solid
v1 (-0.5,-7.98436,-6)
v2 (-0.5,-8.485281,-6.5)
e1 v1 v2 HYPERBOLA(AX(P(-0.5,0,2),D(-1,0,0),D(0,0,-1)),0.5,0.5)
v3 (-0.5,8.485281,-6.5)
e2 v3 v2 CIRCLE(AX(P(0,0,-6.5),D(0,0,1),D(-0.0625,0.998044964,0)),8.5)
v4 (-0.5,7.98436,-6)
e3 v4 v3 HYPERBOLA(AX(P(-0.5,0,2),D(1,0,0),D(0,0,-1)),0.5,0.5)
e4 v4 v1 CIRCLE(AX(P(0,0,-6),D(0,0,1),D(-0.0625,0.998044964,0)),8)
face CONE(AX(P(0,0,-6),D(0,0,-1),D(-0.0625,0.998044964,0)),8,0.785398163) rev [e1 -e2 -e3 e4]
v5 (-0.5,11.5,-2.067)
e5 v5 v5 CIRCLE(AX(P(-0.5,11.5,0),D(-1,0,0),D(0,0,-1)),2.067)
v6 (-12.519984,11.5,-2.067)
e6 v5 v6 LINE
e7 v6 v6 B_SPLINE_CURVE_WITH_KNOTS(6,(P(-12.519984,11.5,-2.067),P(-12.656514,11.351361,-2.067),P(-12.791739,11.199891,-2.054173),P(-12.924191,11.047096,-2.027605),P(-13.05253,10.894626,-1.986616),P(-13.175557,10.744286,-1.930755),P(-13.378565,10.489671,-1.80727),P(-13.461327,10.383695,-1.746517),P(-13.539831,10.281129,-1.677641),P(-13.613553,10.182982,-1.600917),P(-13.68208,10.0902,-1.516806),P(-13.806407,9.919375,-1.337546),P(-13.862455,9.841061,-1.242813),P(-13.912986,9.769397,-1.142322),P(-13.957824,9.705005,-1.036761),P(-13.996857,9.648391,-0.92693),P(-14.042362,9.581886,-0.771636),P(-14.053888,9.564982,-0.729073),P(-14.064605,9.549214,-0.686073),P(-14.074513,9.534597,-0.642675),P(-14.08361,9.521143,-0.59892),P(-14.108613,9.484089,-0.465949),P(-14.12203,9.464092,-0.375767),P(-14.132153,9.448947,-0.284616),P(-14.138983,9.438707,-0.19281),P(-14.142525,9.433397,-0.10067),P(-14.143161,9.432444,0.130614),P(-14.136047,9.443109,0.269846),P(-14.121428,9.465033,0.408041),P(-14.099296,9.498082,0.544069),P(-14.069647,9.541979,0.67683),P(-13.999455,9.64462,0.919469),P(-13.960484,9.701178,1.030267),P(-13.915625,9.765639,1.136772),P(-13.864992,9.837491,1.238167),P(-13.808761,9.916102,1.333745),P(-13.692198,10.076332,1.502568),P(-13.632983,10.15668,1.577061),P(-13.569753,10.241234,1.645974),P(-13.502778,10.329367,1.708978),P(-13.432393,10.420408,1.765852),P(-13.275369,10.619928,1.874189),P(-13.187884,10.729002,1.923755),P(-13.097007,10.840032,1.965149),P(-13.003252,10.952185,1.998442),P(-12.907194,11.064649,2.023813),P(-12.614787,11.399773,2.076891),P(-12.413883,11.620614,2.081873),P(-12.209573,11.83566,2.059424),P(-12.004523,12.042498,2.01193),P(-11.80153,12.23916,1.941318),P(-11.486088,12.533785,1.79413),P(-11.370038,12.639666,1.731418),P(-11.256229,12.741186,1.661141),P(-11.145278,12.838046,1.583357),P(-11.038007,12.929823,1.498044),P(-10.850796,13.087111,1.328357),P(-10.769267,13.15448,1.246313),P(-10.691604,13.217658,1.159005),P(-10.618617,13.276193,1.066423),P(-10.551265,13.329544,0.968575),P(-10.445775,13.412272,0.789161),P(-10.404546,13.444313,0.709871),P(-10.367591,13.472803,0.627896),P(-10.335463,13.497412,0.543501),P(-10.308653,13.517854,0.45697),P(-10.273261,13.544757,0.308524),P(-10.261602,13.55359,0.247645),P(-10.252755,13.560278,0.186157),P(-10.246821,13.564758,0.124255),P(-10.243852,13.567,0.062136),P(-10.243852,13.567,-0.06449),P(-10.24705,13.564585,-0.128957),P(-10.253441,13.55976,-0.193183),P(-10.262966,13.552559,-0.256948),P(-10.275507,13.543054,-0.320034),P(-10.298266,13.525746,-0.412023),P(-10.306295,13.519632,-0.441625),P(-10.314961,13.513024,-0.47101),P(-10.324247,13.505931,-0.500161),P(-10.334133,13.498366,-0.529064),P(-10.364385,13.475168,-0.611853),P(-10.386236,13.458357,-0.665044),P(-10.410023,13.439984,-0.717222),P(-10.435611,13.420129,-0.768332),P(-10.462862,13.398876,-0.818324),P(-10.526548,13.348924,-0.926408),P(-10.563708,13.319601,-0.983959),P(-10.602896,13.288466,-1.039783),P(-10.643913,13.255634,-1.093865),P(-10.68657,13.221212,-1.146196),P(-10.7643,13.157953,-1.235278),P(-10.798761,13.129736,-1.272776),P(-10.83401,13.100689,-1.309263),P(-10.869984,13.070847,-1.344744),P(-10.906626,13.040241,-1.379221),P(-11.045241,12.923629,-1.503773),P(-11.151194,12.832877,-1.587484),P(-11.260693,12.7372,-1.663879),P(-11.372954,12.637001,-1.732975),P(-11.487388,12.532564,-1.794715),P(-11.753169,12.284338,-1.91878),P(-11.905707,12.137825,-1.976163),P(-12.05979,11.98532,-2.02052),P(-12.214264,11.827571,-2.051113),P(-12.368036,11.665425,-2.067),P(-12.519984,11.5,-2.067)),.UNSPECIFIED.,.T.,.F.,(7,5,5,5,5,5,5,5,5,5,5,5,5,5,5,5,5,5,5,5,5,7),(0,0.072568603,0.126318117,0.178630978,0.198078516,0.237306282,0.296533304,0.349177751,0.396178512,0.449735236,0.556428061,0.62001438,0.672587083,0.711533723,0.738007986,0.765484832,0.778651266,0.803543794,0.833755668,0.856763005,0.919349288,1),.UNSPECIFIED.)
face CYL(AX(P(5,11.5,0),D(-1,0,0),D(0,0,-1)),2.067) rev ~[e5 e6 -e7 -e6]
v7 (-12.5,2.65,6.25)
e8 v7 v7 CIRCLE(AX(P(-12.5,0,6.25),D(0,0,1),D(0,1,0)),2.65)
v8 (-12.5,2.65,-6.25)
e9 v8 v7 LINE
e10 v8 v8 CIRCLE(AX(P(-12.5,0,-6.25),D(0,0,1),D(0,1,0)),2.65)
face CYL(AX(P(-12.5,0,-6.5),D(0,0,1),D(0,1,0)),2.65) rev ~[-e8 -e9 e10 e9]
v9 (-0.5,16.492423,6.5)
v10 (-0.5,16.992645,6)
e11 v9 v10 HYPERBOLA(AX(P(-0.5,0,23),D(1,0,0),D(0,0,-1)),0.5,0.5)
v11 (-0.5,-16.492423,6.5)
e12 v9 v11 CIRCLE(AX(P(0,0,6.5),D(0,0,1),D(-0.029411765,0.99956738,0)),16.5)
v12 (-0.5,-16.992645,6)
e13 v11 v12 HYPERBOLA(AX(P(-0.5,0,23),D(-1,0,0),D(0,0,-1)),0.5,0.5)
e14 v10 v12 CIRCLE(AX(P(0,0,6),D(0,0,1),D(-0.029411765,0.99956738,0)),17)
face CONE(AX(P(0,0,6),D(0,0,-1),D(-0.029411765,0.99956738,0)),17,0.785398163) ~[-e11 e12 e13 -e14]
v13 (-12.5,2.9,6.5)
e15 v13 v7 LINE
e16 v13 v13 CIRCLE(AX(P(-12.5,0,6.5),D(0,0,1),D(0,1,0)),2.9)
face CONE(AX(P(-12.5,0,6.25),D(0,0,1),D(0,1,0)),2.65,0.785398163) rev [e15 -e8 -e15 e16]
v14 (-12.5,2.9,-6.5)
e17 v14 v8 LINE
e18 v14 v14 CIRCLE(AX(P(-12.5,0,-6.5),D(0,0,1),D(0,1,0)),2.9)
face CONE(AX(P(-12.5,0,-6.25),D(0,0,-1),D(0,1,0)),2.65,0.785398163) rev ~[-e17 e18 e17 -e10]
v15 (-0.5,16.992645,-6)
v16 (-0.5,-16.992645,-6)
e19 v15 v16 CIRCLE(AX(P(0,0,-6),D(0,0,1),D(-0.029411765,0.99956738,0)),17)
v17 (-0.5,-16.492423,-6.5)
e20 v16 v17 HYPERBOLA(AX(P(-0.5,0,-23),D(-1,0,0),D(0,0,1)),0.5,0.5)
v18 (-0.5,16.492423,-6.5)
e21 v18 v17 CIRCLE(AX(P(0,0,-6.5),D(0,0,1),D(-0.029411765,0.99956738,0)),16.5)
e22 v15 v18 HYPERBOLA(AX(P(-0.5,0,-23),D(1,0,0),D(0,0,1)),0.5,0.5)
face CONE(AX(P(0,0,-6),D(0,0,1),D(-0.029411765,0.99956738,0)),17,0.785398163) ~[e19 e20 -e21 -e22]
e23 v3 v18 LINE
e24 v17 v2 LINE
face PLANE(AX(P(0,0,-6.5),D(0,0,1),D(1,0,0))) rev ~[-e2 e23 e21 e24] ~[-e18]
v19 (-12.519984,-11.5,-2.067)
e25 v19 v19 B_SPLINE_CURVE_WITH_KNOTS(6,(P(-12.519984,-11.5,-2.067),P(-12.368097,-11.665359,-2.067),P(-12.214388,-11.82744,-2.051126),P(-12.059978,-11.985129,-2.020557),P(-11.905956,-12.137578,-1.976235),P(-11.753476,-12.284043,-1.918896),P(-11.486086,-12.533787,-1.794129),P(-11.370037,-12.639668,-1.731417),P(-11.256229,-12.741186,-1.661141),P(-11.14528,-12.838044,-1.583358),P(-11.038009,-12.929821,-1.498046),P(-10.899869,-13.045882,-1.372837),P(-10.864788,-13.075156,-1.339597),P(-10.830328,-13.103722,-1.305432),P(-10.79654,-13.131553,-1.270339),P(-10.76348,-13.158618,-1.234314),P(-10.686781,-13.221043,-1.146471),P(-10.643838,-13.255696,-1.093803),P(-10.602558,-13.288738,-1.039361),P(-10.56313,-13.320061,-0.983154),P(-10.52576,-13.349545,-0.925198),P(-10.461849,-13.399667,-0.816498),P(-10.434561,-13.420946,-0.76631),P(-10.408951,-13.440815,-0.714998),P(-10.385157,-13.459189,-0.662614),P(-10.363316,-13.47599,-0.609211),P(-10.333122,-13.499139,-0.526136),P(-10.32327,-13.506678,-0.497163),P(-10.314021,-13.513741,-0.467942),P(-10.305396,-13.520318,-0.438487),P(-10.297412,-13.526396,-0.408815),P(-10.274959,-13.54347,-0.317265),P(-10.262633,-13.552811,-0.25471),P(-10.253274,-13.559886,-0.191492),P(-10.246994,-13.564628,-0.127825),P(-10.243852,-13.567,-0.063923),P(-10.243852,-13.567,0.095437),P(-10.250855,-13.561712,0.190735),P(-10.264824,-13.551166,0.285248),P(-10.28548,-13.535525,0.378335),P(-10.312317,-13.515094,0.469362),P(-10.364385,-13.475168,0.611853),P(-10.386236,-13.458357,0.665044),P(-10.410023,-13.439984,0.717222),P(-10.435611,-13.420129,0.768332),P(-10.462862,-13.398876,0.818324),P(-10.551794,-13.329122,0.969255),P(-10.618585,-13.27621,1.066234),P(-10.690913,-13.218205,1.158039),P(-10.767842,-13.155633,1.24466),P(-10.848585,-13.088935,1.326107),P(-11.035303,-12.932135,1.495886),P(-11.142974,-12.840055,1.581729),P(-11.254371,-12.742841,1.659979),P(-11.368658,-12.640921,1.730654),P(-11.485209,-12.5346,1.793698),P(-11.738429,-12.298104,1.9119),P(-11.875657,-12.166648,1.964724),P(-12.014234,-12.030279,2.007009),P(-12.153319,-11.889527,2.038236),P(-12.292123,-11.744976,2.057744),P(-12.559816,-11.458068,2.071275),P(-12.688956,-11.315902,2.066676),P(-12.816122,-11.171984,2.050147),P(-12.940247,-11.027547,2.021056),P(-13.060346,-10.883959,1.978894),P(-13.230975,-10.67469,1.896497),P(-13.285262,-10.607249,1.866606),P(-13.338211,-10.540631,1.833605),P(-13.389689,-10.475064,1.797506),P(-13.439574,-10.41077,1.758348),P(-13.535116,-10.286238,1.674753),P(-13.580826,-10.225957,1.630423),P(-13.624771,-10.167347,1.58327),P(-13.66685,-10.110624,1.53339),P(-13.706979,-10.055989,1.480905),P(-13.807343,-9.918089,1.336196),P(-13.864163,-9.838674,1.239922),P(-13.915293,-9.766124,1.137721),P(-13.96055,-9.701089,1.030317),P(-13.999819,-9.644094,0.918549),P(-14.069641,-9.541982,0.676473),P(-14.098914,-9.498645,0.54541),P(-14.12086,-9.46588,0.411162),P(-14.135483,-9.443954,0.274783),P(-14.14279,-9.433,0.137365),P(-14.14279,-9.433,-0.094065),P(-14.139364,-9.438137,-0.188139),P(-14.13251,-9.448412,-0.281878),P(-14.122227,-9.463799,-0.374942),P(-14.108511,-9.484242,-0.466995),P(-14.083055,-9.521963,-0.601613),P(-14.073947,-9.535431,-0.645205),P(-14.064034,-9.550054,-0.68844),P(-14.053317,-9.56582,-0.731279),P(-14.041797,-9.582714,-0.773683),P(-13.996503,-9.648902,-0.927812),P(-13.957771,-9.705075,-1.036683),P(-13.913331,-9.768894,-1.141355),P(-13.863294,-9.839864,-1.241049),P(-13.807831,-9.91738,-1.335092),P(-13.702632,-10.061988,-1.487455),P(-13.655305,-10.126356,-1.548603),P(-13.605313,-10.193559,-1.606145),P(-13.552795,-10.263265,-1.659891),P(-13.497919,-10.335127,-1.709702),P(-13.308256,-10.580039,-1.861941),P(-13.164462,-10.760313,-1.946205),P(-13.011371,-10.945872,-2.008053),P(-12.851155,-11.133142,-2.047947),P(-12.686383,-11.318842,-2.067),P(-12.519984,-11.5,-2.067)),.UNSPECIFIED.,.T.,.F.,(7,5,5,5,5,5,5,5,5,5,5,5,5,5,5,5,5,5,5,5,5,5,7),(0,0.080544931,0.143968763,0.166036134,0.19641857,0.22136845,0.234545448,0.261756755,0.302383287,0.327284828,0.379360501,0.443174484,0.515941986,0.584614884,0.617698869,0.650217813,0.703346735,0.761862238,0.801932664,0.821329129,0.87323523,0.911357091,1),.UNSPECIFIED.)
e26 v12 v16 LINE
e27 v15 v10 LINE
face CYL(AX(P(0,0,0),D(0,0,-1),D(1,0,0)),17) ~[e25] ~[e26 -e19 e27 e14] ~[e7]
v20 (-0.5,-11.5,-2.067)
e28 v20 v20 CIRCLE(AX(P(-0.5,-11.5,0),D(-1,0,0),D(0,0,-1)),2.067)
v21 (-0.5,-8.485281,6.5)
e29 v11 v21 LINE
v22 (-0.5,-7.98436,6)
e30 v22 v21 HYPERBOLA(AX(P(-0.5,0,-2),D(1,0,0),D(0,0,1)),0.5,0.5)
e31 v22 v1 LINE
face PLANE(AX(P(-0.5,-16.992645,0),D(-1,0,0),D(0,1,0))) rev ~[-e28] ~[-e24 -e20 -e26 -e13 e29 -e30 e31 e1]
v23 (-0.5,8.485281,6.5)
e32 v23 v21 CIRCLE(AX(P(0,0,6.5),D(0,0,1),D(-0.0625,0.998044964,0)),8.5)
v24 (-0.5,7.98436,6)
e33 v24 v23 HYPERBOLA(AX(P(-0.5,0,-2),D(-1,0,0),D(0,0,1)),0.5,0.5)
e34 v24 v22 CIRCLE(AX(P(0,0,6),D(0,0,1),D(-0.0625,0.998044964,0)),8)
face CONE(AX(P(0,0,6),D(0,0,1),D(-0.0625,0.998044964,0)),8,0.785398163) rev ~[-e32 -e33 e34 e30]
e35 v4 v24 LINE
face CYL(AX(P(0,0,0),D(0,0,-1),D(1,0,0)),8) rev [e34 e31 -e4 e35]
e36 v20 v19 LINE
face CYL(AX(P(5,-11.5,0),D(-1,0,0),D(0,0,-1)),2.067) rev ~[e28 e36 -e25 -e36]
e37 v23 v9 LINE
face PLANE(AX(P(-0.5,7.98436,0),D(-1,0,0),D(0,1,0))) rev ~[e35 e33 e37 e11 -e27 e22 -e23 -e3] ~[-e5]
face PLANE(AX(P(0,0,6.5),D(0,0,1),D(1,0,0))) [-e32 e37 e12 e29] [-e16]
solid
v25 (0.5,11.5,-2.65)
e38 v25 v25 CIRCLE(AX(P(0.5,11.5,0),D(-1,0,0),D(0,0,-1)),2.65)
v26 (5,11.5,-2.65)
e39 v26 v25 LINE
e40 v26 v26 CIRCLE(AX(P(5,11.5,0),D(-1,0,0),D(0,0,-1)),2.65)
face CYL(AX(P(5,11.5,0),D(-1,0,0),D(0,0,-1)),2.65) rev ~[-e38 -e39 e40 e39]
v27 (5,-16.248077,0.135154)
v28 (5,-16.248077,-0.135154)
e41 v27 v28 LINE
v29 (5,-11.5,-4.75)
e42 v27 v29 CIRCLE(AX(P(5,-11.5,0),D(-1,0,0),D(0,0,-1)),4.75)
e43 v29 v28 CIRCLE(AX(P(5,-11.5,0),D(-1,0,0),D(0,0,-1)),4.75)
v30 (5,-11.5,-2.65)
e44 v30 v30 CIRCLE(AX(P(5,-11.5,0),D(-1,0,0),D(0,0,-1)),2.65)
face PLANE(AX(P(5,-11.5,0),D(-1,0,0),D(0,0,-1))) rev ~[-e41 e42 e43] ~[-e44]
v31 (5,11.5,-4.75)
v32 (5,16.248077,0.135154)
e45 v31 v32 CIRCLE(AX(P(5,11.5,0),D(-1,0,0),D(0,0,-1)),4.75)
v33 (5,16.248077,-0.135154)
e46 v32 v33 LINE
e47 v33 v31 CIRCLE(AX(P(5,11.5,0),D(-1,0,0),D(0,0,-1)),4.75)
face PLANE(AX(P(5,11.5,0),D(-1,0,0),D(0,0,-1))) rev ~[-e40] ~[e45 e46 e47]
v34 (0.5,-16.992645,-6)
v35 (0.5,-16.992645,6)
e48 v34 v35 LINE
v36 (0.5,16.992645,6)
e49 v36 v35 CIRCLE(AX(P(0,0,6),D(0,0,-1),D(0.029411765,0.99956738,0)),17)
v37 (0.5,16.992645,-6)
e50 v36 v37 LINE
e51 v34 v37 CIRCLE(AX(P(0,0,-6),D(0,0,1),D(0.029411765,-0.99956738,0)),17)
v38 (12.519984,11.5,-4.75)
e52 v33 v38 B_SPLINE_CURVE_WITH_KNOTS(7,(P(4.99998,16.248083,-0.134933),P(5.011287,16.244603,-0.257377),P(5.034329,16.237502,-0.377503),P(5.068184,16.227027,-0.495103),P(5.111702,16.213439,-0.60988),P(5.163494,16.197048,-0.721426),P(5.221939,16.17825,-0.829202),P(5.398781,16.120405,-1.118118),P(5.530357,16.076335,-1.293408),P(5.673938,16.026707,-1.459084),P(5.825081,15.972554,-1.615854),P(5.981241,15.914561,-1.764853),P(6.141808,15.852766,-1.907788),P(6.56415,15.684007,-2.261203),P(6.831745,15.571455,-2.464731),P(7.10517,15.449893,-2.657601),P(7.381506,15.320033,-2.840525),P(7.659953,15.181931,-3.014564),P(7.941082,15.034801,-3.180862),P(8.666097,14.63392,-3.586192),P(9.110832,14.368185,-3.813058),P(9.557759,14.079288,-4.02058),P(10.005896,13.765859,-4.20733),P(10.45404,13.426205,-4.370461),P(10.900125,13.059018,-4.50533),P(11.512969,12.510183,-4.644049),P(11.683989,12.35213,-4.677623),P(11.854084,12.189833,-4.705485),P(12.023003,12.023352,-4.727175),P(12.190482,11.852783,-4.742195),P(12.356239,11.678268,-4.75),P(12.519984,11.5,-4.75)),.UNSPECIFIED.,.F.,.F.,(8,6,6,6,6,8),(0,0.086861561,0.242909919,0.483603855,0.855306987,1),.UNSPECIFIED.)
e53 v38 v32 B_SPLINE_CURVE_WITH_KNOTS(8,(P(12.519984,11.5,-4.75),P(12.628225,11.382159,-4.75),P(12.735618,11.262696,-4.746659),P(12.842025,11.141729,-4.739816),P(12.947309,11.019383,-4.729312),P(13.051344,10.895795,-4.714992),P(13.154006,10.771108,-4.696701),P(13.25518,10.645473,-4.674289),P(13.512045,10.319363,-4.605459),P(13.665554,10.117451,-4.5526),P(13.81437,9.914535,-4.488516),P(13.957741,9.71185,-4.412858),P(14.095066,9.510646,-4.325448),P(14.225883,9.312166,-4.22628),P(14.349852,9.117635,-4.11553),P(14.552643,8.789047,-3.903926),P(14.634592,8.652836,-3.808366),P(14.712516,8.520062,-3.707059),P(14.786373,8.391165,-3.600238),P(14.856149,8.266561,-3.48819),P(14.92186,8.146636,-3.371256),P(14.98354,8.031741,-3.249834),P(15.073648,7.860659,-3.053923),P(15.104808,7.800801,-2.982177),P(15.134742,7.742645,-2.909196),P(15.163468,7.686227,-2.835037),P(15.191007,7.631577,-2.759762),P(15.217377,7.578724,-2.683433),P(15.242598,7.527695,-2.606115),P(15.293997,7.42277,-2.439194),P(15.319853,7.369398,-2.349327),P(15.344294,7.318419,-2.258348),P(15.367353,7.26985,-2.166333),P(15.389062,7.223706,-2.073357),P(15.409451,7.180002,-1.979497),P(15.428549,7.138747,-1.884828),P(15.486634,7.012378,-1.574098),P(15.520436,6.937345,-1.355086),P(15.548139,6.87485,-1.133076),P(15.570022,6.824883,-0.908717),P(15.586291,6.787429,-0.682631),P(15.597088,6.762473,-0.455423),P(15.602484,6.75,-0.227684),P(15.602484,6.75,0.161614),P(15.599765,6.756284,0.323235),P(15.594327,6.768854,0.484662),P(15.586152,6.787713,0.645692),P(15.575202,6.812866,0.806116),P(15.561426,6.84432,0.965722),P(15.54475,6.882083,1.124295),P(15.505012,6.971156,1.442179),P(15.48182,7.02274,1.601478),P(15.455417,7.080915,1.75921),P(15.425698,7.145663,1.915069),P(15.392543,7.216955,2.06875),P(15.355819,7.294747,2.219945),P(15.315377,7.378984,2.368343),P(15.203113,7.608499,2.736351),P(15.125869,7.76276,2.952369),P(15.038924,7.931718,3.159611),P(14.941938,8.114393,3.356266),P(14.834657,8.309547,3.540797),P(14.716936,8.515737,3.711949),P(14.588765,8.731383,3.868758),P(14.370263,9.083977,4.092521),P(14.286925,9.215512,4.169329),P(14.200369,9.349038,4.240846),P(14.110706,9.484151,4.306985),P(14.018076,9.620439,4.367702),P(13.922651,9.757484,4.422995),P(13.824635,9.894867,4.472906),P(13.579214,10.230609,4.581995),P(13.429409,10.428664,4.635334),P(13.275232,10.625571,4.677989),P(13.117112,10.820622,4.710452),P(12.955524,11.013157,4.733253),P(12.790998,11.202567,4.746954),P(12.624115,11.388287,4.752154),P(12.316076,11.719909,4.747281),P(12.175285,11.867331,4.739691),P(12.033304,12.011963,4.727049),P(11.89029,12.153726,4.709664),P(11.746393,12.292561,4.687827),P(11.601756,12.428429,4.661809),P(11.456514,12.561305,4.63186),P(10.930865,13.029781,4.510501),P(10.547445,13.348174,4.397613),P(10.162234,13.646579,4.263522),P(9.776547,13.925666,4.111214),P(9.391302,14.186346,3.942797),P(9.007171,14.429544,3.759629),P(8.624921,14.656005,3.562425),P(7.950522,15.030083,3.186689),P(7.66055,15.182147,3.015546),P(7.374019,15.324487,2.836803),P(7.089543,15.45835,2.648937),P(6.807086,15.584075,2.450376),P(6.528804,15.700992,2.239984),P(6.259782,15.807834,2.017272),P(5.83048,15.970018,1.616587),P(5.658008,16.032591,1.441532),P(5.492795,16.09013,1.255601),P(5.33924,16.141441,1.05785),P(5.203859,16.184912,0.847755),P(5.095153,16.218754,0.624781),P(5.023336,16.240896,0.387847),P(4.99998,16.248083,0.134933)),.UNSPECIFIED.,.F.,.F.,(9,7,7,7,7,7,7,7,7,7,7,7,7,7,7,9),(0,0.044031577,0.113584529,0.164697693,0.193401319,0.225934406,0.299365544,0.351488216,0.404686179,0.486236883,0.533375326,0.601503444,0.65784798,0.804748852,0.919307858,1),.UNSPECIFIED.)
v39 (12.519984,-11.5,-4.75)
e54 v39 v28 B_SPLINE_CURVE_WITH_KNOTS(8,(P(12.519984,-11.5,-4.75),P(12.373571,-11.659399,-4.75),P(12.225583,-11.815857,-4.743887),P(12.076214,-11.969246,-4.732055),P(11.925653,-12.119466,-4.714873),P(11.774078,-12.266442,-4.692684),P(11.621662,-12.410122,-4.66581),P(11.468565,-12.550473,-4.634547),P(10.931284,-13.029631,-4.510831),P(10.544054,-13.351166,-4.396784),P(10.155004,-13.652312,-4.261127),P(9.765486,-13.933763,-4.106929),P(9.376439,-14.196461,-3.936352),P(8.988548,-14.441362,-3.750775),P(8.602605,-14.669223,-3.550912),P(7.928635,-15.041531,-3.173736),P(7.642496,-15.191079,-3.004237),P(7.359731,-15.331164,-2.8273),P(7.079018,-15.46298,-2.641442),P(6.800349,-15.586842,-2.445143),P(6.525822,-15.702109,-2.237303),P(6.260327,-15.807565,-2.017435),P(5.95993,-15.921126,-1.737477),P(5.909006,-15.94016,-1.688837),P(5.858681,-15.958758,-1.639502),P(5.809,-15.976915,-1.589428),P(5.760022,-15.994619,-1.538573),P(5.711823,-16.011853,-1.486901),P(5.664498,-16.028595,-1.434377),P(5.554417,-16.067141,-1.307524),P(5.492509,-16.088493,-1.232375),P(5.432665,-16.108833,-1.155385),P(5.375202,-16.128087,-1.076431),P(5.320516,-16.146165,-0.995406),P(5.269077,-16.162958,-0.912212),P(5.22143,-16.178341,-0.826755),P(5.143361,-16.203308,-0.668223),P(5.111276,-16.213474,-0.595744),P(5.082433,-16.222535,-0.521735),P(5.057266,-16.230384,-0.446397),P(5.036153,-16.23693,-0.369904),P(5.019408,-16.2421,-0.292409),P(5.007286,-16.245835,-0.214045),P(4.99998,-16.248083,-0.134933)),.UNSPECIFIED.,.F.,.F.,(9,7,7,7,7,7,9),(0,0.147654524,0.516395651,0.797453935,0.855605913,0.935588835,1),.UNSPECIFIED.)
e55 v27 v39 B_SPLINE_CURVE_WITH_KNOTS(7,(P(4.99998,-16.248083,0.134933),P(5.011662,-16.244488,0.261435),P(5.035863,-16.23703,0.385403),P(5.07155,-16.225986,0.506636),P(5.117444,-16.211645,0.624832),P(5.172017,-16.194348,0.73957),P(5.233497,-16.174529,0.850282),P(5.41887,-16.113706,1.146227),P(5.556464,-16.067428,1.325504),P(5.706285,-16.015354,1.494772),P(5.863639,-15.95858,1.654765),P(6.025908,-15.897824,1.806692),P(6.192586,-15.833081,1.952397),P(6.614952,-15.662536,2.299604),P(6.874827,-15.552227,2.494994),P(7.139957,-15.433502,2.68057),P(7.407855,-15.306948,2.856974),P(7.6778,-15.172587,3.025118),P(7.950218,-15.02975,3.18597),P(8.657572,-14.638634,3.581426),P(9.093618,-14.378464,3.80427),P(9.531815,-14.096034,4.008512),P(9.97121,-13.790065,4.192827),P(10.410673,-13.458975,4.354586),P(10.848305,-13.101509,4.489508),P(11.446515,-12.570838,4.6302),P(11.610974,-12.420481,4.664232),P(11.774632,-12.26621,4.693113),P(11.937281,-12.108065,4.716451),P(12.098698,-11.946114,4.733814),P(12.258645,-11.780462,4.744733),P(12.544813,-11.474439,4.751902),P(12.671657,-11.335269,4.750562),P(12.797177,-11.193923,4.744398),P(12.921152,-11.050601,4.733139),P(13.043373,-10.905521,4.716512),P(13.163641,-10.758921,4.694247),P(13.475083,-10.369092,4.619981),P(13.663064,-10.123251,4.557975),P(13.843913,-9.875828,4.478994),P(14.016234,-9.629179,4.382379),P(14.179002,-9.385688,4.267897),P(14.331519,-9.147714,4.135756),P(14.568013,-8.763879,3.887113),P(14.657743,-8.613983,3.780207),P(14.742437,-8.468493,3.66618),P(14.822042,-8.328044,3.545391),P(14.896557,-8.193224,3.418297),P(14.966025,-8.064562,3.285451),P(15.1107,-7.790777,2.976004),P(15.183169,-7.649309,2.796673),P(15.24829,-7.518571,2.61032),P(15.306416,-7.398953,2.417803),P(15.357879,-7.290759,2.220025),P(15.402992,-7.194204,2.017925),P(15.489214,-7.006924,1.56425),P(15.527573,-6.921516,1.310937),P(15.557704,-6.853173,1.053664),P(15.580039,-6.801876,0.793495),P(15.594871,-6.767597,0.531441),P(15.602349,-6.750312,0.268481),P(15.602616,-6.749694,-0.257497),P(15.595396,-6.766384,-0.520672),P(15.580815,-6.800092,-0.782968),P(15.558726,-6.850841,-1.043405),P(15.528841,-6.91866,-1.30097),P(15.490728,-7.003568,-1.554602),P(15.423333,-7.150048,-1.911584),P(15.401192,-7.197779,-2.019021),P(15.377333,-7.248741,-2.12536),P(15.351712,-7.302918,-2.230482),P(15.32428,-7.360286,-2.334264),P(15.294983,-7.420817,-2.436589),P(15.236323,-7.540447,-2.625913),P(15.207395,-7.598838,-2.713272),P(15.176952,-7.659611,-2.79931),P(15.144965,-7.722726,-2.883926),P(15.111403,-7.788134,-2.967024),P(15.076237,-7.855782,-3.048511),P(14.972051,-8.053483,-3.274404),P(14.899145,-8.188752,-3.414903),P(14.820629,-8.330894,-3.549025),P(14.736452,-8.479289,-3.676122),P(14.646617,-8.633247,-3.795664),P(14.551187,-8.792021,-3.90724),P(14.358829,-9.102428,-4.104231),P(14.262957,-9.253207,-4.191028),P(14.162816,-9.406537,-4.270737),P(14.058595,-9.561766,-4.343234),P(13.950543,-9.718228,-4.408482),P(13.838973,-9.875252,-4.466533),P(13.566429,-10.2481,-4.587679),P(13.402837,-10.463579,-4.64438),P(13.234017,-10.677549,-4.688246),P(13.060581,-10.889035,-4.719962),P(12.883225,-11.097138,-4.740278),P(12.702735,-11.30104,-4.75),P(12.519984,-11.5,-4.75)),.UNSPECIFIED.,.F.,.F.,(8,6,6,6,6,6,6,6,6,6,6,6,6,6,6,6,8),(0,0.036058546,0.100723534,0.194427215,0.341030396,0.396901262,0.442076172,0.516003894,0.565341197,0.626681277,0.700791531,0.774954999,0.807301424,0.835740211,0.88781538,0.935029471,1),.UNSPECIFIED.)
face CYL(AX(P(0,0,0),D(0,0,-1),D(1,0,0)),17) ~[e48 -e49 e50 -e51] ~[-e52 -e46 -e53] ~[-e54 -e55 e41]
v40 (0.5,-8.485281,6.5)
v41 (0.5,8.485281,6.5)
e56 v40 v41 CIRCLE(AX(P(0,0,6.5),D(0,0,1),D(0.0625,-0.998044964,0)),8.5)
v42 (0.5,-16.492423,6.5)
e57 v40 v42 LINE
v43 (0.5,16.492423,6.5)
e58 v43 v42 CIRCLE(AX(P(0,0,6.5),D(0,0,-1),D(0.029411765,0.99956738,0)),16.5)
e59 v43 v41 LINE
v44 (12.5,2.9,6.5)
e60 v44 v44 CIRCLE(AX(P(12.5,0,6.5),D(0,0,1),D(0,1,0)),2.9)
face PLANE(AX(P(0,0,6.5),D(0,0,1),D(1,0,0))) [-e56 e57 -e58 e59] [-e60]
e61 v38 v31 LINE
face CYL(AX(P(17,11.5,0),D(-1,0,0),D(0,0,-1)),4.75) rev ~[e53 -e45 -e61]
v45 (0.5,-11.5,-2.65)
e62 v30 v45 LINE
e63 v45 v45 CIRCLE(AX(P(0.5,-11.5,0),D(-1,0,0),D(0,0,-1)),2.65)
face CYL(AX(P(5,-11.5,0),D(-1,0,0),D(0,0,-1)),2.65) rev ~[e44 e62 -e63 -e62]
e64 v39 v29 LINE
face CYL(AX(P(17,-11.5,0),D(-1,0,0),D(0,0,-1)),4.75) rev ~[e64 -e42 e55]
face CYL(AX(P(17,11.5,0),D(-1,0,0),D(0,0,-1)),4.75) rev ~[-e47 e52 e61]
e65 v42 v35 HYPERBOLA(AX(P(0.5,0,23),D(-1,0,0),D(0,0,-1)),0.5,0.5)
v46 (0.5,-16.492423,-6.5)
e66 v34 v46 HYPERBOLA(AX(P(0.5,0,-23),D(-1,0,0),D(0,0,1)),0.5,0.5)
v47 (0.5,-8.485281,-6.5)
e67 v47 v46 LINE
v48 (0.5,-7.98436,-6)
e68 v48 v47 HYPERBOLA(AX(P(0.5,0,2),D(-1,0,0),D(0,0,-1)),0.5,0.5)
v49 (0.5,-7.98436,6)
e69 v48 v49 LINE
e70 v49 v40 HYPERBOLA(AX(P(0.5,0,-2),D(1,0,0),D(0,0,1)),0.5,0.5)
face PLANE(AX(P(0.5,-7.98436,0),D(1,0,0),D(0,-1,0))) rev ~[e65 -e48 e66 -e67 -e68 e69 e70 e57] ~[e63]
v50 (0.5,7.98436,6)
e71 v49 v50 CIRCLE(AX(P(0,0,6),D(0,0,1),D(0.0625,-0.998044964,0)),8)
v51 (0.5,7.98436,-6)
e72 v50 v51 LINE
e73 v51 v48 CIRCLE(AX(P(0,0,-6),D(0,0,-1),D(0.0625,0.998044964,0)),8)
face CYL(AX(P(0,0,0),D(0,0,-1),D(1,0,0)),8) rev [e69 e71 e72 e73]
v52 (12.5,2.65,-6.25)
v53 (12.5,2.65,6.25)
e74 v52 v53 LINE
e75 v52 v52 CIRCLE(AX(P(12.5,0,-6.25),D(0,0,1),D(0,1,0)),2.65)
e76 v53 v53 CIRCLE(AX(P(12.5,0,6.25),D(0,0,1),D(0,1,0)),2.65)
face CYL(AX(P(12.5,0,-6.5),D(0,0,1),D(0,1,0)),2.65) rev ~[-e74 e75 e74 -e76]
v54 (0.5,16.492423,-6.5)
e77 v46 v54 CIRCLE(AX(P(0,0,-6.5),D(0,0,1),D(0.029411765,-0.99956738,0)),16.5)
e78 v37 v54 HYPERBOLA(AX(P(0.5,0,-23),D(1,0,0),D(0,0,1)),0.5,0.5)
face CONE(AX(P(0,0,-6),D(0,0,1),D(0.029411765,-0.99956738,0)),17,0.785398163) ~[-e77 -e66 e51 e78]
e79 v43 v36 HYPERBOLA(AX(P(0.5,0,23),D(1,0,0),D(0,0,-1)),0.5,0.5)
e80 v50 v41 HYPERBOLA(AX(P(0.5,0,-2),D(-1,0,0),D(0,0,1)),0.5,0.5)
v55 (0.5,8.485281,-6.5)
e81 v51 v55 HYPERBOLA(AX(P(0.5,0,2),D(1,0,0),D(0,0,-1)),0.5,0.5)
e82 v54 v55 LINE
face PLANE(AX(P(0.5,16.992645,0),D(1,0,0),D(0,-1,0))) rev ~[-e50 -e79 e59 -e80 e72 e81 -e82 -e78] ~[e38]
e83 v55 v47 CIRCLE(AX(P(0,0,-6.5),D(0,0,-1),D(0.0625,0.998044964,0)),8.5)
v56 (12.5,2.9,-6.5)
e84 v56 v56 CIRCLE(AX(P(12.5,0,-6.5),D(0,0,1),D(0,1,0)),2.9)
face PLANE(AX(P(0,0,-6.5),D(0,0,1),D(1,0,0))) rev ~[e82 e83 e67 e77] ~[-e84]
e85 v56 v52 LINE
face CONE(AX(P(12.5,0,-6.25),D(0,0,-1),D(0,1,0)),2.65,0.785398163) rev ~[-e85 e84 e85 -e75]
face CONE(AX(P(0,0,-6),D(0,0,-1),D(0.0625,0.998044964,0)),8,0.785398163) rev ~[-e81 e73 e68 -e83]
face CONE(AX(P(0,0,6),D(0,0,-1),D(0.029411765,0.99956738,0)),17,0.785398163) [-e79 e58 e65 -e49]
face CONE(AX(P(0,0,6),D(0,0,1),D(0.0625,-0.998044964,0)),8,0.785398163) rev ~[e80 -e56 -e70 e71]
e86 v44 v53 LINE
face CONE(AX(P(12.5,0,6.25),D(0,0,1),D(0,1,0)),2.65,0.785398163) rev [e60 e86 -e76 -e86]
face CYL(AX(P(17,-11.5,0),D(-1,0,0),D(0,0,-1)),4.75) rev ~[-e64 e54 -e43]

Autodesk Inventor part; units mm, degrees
ref_plane "XZ Plane" through (0, 0, 0) normal (0, 1, 0) x (-1, 0, 0)
sketch "Sketch1" plane through (0, 0, 0) normal (0, 0, 1) x (1, 0, 0)
  circle A0 centre (0, 0) radius 8
  circle A1 centre (0, 0) radius 17
  line L0 (0.5, -17) -> (-0.5, -17)
  line L1 (-0.5, -17) -> (-0.5, 17)
  line L2 (-0.5, 17) -> (0.5, 17)
  line L3 (0.5, 17) -> (0.5, -17)
  line L4 (0.5, -17) -> (-0.5, 17) construction
  line L5 (-0.5, -17) -> (0.5, 17) construction
  point P0 (0.5, -7.9844)
  point P1 (0.5, -16.9926)
  point P2 (0.5, 16.9926)
  point P3 (0.5, 7.9844)
  point P4 (-0.5, 7.9844)
  point P5 (-0.5, 16.9926)
  point P6 (-0.5, -16.9926)
  point P7 (-0.5, -7.9844)
  dimension "d0" = 16
  dimension "d1" = 34
  dimension "d2" = 1
extrude "Extrusion1" add sketch "Sketch1" along normal mid plane 13 contours A0 L3 A1 | A0 L1 A1
chamfer "Chamfer1" distance 0.5 angle 45 8 edges at (-8, 0, 6.5) (8, 0, 6.5) (17, 0, 6.5) (-17, 0, 6.5) (-17, 0, -6.5) (17, 0, -6.5) (-8, 0, -6.5) (8, 0, -6.5)
ref_plane "Work Plane1" through (17, 0, 0) normal (1, 0, 0) x (0, 1, 0)
sketch "Sketch2" plane through (17, 0, 0) normal (1, 0, 0) x (0, 1, 0)
  line L0 (16.4924, -6.5) -> (8.4853, -6.5) construction
  line L1 (16.9926, -6) -> (16.4924, -6.5) construction
  line L2 (16.9926, 6) -> (16.9926, -6) construction
  line L3 (16.4924, 6.5) -> (16.9926, 6) construction
  line L4 (8.4853, 6.5) -> (16.4924, 6.5) construction
  line L5 (7.9844, -6) -> (7.9844, 6) construction
  line L6 (-7.9844, -6) -> (-7.9844, 6) construction
  line L7 (-16.4924, 6.5) -> (-8.4853, 6.5) construction
  line L8 (-16.9926, 6) -> (-16.4924, 6.5) construction
  line L9 (-16.9926, -6) -> (-16.9926, 6) construction
  line L10 (-16.4924, -6.5) -> (-16.9926, -6) construction
  line L11 (-8.4853, -6.5) -> (-16.4924, -6.5) construction
  line L12 (-11.5, 0) -> (11.5, 0) construction
  point P0 (0, 0)
  point P1 (0, 0)
  dimension "d8" = 23
ref_plane "Work Plane2" through (5, 0, 0) normal (1, 0, 0) x (0, 1, 0)
hole "Hole1" at (17, 11.5, 0) at (17, -11.5, 0) direction (-1, 0, 0) diameter 4.134 end through all counterbore diameter 9.5 counterbore depth 12 thread size "M5x0.8" class "6H" standard "ANSI Metric M Profile"
sketch "Sketch3" plane through (5, 11.5, 0) normal (1, 0, 0) x (0, 0, -1)
  arc A0 (-0.1352, 4.7481) -> (0.1352, 4.7481) centre (0, 0) ccw projected
  circle A1 centre (0, 0) radius 2.067 projected
  arc A2 (0.1352, -27.7481) -> (-0.1352, -27.7481) centre (0, -23) ccw projected
  circle A3 centre (0, -23) radius 2.067 projected
  line L0 (0.1352, -27.7481) -> (-0.1352, -27.7481) projected
  line L1 (-0.1352, 4.7481) -> (0.1352, 4.7481) projected
  point P0 (0, -11.5)
hole "Hole2" at (5, 11.5, 0) at (5, -11.5, 0) direction (-1, 0, 0) diameter 5.3 depth 4.5
sketch "Sketch4" plane through (0, 0, -6.5) normal (0, 0, -1) x (-1, 0, 0)
  line L0 (-12.5, 0) -> (12.5, 0) construction
  line L1 (0, 0) -> (8, -6) construction
  line L2 (8, -6) -> (12.5, 0) construction
  dimension "d24" = 10
  dimension "d26" = 25
  dimension "d27" = 7.5
hole "Hole3" at (12.5, 0, -6.5) at (-12.5, 0, -6.5) direction (0, 0, 1) diameter 5.3 end through all
chamfer "Chamfer2" distance 0.25 angle 45 4 edges at (-12.5, -2.65, 6.5) (12.5, -2.65, 6.5) (-12.5, -2.65, -6.5) (12.5, -2.65, -6.5)
properties part number "Shaft Clamp" material "Aluminum 6061"
